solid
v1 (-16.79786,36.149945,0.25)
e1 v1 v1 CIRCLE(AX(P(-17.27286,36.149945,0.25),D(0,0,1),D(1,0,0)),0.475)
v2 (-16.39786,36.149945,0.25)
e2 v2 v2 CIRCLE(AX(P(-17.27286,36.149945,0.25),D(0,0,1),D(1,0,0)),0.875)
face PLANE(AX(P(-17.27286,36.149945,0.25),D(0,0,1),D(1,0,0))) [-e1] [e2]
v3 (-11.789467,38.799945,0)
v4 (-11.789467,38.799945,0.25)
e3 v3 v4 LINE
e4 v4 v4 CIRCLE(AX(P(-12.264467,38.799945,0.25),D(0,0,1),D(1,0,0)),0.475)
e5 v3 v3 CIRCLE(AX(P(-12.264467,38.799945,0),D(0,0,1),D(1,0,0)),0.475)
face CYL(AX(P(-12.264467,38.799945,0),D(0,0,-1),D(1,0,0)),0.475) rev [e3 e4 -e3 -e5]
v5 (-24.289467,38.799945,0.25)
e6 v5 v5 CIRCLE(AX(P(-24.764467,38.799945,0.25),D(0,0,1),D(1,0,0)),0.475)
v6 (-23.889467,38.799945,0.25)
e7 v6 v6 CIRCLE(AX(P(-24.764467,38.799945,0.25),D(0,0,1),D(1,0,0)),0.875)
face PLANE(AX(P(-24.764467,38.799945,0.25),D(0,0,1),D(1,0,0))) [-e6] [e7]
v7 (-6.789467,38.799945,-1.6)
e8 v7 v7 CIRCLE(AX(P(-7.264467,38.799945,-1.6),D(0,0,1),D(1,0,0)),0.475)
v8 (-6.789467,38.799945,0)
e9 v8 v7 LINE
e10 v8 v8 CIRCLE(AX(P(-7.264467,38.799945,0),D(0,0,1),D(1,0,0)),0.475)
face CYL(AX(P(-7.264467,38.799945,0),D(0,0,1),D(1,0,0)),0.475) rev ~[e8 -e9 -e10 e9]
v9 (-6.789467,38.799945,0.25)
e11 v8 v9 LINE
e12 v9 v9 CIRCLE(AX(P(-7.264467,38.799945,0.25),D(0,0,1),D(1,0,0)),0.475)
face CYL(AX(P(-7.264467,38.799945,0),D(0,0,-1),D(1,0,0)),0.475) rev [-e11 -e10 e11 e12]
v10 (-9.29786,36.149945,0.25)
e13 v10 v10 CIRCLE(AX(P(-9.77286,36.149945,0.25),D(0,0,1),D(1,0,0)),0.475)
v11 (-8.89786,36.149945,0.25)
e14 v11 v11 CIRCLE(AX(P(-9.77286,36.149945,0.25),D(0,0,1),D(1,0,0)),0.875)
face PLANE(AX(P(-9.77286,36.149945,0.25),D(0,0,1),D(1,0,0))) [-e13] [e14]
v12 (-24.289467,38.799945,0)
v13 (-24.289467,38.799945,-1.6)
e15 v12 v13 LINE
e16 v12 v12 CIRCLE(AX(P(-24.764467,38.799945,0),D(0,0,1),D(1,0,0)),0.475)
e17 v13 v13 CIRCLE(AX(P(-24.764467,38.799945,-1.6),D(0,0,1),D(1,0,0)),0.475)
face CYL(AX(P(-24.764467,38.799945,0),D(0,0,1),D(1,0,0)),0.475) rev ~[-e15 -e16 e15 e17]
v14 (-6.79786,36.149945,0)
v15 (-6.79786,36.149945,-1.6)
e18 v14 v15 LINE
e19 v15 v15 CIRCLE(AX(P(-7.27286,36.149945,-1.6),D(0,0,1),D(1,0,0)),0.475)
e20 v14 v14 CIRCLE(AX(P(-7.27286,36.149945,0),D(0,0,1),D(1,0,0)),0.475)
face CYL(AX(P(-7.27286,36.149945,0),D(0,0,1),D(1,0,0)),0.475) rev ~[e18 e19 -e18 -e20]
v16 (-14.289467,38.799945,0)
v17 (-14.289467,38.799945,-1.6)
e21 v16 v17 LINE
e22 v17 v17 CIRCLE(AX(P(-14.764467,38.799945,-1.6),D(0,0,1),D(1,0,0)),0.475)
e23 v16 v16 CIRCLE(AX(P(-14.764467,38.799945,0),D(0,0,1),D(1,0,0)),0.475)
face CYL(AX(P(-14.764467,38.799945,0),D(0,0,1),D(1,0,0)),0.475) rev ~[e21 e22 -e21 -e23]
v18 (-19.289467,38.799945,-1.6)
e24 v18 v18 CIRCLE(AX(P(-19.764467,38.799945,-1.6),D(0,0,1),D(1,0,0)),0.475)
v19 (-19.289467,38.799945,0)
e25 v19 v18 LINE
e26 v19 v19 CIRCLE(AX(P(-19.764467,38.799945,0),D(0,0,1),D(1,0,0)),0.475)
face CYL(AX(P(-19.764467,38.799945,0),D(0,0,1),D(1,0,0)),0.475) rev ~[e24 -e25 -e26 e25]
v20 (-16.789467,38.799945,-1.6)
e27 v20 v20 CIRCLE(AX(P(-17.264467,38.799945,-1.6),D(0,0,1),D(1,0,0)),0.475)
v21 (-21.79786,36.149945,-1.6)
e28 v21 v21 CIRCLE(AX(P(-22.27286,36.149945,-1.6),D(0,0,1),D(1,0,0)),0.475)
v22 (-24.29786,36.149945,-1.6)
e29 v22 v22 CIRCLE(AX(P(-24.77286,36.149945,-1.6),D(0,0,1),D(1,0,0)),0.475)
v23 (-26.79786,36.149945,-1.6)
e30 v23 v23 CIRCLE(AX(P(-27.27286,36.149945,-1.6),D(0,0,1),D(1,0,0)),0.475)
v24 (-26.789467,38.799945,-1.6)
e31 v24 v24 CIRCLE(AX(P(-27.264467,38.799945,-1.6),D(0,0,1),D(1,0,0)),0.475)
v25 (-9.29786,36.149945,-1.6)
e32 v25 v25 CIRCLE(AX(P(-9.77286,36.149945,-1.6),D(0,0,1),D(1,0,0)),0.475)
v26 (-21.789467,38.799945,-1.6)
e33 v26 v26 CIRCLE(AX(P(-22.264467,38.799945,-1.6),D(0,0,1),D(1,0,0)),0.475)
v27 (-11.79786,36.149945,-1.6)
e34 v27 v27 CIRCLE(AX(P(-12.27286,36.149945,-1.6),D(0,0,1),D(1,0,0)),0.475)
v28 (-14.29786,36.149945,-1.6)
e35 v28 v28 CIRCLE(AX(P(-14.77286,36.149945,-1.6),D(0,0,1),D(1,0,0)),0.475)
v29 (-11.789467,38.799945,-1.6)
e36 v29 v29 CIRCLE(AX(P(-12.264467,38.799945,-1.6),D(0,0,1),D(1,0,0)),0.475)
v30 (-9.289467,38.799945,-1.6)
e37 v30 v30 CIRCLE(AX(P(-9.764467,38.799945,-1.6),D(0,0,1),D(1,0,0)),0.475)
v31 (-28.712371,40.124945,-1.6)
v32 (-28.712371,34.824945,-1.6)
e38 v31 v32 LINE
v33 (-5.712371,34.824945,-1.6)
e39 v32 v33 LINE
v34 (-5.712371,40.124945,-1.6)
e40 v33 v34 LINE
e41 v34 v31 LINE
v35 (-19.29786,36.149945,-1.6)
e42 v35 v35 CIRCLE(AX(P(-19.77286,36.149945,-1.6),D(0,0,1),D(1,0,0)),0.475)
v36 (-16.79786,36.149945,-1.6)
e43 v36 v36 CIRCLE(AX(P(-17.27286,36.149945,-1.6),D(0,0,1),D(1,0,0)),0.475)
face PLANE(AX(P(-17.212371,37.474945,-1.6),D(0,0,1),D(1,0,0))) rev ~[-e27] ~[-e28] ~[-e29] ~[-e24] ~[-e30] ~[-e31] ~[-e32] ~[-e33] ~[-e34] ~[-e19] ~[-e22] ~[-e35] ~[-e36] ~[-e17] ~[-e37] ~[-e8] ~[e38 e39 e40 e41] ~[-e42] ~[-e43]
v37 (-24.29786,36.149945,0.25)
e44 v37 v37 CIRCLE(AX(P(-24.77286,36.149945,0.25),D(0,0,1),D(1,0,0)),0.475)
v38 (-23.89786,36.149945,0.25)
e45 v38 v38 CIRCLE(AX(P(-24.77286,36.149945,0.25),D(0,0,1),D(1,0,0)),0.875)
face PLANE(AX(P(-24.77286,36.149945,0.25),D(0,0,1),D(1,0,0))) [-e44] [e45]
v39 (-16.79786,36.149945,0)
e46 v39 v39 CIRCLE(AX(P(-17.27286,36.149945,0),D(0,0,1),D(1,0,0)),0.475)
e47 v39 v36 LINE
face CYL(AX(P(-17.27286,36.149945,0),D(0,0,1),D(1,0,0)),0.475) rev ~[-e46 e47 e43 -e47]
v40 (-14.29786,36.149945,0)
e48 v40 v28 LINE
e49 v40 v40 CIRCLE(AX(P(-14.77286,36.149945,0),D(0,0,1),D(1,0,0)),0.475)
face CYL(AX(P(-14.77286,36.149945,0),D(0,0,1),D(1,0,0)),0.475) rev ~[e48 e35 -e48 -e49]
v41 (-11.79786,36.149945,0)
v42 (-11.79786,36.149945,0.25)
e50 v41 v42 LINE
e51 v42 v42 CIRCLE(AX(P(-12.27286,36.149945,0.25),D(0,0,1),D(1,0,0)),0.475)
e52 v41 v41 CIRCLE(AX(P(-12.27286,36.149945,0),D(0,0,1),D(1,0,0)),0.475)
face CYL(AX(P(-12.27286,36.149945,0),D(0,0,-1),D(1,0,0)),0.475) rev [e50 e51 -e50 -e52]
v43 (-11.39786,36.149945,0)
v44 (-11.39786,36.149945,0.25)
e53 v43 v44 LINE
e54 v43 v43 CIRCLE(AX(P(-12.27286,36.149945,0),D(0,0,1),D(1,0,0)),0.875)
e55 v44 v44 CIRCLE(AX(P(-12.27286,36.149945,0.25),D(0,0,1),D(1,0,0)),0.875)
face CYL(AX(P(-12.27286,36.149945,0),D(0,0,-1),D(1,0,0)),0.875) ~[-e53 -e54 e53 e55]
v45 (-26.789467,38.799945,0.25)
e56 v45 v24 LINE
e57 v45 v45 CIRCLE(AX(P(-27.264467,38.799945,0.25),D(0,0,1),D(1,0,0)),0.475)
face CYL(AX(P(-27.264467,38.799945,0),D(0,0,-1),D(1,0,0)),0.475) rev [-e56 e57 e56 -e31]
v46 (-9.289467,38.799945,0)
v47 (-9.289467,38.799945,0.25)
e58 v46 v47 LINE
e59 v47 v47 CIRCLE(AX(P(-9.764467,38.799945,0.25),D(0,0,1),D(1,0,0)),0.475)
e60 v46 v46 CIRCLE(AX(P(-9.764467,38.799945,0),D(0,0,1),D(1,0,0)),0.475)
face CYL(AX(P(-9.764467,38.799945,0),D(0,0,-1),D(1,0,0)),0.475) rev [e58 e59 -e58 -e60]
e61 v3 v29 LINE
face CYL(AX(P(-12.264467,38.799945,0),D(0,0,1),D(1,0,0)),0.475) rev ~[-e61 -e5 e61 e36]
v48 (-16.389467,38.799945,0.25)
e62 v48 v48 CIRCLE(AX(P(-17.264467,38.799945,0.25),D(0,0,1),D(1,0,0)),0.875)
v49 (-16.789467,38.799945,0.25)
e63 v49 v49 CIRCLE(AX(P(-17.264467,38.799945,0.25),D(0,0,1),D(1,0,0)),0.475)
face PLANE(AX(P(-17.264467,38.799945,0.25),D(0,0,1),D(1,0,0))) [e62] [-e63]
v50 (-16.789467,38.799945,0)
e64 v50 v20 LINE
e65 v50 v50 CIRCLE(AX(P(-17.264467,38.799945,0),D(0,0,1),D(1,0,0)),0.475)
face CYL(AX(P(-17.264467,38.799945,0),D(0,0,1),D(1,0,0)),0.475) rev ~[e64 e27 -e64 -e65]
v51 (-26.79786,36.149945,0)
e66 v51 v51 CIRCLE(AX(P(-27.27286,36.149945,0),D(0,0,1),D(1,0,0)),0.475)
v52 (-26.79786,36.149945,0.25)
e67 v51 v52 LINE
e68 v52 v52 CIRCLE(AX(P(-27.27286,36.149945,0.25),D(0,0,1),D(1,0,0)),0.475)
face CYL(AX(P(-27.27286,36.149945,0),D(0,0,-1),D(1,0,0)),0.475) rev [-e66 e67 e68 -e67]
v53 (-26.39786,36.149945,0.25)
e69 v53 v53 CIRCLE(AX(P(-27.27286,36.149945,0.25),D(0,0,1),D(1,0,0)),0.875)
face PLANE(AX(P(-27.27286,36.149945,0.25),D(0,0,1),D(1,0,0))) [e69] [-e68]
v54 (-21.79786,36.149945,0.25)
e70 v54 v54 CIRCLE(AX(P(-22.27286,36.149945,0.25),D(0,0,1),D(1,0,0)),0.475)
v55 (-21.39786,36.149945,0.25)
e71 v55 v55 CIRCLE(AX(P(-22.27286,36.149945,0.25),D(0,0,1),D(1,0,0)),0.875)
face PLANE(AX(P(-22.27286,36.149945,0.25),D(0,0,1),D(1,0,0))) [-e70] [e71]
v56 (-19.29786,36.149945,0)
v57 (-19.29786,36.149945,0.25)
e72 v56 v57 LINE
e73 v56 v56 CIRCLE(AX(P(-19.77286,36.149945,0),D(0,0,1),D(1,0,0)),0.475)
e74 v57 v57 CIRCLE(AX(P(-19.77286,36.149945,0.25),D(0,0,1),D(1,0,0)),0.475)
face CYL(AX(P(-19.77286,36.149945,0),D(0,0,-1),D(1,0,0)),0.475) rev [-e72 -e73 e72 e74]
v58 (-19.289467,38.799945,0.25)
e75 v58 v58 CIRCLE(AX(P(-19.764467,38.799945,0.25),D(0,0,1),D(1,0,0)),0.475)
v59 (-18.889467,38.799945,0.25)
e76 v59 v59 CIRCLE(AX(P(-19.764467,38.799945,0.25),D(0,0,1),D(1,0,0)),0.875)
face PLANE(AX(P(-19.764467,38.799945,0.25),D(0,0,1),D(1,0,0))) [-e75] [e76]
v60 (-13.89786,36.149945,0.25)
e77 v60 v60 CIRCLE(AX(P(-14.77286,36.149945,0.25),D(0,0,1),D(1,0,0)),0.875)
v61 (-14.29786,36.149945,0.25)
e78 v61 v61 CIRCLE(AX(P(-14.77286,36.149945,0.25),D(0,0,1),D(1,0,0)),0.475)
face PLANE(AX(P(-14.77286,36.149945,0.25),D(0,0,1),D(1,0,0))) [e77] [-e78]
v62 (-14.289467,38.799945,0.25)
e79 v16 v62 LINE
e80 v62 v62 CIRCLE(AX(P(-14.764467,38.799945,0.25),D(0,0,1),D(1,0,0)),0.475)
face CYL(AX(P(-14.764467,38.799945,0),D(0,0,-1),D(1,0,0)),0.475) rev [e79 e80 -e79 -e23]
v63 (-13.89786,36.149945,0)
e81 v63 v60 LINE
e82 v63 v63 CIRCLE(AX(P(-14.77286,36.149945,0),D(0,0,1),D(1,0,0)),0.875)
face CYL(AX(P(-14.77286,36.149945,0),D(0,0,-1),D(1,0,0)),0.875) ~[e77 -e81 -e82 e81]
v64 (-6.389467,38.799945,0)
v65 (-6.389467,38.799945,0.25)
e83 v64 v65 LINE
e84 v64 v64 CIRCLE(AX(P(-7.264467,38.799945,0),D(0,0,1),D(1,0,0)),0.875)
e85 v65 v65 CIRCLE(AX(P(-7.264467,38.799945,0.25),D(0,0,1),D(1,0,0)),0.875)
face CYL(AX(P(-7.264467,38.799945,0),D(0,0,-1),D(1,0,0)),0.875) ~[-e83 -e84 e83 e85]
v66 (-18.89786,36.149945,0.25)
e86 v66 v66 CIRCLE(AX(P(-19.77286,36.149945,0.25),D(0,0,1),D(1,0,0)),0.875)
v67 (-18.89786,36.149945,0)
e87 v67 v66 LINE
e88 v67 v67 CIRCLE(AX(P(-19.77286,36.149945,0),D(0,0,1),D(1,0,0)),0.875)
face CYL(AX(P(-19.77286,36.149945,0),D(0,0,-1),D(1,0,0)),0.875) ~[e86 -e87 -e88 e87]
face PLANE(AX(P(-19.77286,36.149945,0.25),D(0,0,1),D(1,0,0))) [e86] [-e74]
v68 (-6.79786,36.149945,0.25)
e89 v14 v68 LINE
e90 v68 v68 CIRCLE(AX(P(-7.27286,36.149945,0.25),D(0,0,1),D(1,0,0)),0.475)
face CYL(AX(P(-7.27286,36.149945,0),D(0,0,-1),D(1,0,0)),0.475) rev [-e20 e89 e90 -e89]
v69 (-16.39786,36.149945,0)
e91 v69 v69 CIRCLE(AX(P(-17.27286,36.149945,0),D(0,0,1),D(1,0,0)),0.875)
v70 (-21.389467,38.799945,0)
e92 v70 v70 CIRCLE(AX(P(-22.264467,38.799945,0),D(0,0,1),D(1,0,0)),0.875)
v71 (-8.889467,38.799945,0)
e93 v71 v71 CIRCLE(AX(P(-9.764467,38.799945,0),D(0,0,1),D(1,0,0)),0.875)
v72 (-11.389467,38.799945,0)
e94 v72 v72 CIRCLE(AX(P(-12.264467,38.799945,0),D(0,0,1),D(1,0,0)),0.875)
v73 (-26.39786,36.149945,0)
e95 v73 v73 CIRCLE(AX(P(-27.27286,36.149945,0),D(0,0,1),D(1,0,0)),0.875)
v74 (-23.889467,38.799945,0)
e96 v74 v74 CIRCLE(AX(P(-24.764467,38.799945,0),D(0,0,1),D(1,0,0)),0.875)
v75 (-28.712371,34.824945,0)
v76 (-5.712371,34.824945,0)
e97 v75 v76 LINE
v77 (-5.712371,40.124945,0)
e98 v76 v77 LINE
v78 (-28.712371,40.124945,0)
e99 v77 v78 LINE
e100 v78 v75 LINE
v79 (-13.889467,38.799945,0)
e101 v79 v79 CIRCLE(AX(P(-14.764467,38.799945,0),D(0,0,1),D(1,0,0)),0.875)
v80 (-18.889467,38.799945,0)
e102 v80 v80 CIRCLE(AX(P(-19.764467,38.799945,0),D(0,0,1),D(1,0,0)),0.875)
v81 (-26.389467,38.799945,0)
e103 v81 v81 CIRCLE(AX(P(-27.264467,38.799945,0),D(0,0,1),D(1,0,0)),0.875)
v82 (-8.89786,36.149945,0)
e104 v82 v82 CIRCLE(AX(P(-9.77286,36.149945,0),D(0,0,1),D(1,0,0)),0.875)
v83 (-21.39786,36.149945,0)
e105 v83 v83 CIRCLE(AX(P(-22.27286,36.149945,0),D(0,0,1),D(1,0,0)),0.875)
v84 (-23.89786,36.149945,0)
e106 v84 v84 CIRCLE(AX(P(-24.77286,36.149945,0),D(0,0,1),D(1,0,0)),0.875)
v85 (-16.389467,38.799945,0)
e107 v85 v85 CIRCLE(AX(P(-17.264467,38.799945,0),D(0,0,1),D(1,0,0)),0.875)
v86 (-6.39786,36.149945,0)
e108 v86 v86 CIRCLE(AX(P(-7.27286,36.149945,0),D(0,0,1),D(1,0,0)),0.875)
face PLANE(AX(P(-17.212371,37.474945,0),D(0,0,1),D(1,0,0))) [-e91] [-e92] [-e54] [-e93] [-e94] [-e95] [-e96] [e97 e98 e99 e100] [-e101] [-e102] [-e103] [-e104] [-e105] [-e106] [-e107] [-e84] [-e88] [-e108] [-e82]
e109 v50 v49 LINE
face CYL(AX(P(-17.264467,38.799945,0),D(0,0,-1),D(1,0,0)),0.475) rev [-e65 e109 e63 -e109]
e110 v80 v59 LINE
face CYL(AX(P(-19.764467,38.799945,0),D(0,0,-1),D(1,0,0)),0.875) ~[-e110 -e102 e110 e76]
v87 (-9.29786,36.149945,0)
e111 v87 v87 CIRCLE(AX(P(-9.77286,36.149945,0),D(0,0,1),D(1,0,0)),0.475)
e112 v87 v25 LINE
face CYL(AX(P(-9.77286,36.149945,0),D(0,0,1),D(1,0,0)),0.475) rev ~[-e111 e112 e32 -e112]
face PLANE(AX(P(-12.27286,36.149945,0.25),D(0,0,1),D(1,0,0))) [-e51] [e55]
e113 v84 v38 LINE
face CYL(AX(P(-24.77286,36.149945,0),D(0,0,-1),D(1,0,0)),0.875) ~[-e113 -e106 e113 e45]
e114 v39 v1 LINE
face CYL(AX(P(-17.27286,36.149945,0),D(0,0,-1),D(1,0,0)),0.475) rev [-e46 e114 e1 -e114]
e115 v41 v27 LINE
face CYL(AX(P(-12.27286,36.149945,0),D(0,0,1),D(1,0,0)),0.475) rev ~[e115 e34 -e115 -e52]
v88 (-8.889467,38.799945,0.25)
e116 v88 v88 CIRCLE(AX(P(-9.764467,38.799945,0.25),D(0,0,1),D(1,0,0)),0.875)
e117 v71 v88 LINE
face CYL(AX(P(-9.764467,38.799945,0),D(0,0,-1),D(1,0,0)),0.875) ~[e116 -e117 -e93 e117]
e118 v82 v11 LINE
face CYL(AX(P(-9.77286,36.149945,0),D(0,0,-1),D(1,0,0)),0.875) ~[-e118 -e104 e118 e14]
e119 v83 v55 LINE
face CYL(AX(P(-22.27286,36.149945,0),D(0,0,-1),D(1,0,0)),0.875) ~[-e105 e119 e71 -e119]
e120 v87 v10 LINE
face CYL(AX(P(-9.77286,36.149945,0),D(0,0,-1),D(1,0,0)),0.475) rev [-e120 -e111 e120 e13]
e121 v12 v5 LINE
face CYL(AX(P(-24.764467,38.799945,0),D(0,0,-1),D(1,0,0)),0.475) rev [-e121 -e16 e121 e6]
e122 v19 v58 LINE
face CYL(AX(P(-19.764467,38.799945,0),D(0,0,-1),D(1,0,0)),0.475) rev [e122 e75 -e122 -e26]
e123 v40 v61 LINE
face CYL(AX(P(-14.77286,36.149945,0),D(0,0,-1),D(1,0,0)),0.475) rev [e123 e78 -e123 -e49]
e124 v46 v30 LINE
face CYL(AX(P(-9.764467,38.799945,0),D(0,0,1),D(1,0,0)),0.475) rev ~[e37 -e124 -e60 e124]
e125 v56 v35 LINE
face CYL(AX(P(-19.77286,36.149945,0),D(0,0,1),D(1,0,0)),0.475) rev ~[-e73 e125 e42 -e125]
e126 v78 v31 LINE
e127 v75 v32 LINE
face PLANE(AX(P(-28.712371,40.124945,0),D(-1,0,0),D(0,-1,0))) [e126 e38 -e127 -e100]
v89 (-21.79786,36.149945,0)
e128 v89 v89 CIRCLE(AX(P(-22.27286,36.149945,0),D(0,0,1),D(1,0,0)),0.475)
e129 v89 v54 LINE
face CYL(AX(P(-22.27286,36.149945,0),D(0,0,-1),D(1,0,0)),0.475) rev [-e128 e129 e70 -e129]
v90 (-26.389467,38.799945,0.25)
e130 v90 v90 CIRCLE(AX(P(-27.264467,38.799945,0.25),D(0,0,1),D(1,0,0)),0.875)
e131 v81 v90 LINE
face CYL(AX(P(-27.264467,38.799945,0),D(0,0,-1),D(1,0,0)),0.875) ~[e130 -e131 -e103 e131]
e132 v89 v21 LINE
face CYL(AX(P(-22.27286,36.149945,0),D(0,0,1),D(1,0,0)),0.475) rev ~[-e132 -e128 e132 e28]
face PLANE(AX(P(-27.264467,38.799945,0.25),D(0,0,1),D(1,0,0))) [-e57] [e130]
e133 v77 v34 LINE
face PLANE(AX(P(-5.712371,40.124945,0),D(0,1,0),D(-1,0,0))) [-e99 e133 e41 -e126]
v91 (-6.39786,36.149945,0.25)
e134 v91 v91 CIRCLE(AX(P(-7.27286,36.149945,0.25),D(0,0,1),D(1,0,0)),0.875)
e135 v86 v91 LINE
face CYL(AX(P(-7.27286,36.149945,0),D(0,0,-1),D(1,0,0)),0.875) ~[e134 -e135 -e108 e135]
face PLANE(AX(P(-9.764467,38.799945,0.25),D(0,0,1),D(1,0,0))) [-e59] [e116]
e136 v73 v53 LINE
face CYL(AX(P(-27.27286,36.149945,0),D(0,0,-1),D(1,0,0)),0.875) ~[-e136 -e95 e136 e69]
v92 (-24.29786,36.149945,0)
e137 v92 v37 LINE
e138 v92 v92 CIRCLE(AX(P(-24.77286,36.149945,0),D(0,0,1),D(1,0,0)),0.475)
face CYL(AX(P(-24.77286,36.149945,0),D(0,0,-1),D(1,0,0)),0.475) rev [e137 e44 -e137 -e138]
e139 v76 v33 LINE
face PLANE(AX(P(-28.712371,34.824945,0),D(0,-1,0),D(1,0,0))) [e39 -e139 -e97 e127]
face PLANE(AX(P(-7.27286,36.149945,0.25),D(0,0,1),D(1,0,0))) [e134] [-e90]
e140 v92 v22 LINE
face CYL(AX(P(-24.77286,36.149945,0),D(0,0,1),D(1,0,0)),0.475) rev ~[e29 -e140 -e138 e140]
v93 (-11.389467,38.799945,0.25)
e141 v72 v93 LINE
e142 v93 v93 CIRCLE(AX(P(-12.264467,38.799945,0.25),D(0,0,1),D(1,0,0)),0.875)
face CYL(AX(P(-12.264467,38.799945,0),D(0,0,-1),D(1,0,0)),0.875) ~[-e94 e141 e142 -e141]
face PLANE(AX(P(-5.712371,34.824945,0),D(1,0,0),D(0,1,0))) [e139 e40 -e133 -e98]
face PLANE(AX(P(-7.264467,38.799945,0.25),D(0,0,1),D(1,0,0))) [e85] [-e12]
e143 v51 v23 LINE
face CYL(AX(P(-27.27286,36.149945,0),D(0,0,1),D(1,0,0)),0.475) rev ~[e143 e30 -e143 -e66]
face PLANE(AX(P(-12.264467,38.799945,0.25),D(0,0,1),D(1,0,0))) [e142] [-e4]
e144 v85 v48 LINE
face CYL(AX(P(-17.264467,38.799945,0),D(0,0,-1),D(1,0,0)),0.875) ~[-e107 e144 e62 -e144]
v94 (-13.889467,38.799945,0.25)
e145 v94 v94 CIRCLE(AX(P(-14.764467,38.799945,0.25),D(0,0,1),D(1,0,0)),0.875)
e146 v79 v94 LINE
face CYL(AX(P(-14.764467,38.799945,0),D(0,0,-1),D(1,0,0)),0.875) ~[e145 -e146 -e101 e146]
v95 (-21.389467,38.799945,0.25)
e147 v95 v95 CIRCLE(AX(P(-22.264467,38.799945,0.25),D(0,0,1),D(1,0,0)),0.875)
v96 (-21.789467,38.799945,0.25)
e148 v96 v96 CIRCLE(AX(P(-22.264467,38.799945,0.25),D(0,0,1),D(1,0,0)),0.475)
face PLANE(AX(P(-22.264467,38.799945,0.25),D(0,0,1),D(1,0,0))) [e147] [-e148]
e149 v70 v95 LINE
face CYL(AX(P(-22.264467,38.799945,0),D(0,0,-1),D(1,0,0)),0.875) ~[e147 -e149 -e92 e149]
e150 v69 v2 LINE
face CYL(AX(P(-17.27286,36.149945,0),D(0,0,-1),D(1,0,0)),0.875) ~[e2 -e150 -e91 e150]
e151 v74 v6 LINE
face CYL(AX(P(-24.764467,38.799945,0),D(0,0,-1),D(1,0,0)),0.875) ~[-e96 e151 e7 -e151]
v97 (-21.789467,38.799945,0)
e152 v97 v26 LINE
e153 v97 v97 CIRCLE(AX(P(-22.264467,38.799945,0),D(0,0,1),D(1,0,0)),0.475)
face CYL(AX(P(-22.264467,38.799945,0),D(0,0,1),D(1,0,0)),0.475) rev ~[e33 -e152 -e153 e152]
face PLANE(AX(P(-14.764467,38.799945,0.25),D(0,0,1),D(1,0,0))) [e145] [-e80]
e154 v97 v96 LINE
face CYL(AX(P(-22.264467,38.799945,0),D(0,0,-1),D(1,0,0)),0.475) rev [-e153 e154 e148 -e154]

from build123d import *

# Parameters (mm, degrees)
F0_R     = 0.875
F0_R_2   = 0.475
F1_DEPTH = 1.6
F2_DEPTH = 0.25


with BuildPart() as f1:
    # F0 (on Top) → F1 (new body)
    with BuildSketch(Plane.XY):
        Polygon((-5.712371, 40.124945), (-28.712371, 40.124945), (-28.712371, 37.474945), (-28.712371, 34.824945), (-5.712371, 34.824945), (-5.712371, 37.474945), align=None)
        with Locations((-27.27286, 36.149945)):
            Circle(F0_R, mode=Mode.SUBTRACT)
        with Locations((-24.77286, 36.149945)):
            Circle(F0_R, mode=Mode.SUBTRACT)
        with Locations((-22.27286, 36.149945)):
            Circle(F0_R, mode=Mode.SUBTRACT)
        with Locations((-19.77286, 36.149945)):
            Circle(F0_R, mode=Mode.SUBTRACT)
        with Locations((-17.27286, 36.149945)):
            Circle(F0_R, mode=Mode.SUBTRACT)
        with Locations((-14.77286, 36.149945)):
            Circle(F0_R, mode=Mode.SUBTRACT)
        with Locations((-12.27286, 36.149945)):
            Circle(F0_R, mode=Mode.SUBTRACT)
        with Locations((-9.77286, 36.149945)):
            Circle(F0_R, mode=Mode.SUBTRACT)
        with Locations((-7.27286, 36.149945)):
            Circle(F0_R, mode=Mode.SUBTRACT)
        with Locations((-27.264467, 38.799945)):
            Circle(F0_R, mode=Mode.SUBTRACT)
        with Locations((-24.764467, 38.799945)):
            Circle(F0_R, mode=Mode.SUBTRACT)
        with Locations((-22.264467, 38.799945)):
            Circle(F0_R, mode=Mode.SUBTRACT)
        with Locations((-19.764467, 38.799945)):
            Circle(F0_R, mode=Mode.SUBTRACT)
        with Locations((-17.264467, 38.799945)):
            Circle(F0_R, mode=Mode.SUBTRACT)
        with Locations((-14.764467, 38.799945)):
            Circle(F0_R, mode=Mode.SUBTRACT)
        with Locations((-12.264467, 38.799945)):
            Circle(F0_R, mode=Mode.SUBTRACT)
        with Locations((-9.764467, 38.799945)):
            Circle(F0_R, mode=Mode.SUBTRACT)
        with Locations((-7.264467, 38.799945)):
            Circle(F0_R, mode=Mode.SUBTRACT)
        with Locations((-27.264467, 38.799945)):
            Circle(F0_R)
        with Locations((-27.264467, 38.799945)):
            Circle(F0_R_2, mode=Mode.SUBTRACT)
        with Locations((-24.764467, 38.799945)):
            Circle(F0_R)
        with Locations((-24.764467, 38.799945)):
            Circle(F0_R_2, mode=Mode.SUBTRACT)
        with Locations((-22.264467, 38.799945)):
            Circle(F0_R)
        with Locations((-22.264467, 38.799945)):
            Circle(F0_R_2, mode=Mode.SUBTRACT)
        with Locations((-19.764467, 38.799945)):
            Circle(F0_R)
        with Locations((-19.764467, 38.799945)):
            Circle(F0_R_2, mode=Mode.SUBTRACT)
        with Locations((-17.264467, 38.799945)):
            Circle(F0_R)
        with Locations((-17.264467, 38.799945)):
            Circle(F0_R_2, mode=Mode.SUBTRACT)
        with Locations((-14.764467, 38.799945)):
            Circle(F0_R)
        with Locations((-14.764467, 38.799945)):
            Circle(F0_R_2, mode=Mode.SUBTRACT)
        with Locations((-12.264467, 38.799945)):
            Circle(F0_R)
        with Locations((-12.264467, 38.799945)):
            Circle(F0_R_2, mode=Mode.SUBTRACT)
        with Locations((-9.764467, 38.799945)):
            Circle(F0_R)
        with Locations((-9.764467, 38.799945)):
            Circle(F0_R_2, mode=Mode.SUBTRACT)
        with Locations((-7.264467, 38.799945)):
            Circle(F0_R)
        with Locations((-7.264467, 38.799945)):
            Circle(F0_R_2, mode=Mode.SUBTRACT)
        with Locations((-7.27286, 36.149945)):
            Circle(F0_R)
        with Locations((-7.27286, 36.149945)):
            Circle(F0_R_2, mode=Mode.SUBTRACT)
        with Locations((-9.77286, 36.149945)):
            Circle(F0_R)
        with Locations((-9.77286, 36.149945)):
            Circle(F0_R_2, mode=Mode.SUBTRACT)
        with Locations((-12.27286, 36.149945)):
            Circle(F0_R)
        with Locations((-12.27286, 36.149945)):
            Circle(F0_R_2, mode=Mode.SUBTRACT)
        with Locations((-14.77286, 36.149945)):
            Circle(F0_R)
        with Locations((-14.77286, 36.149945)):
            Circle(F0_R_2, mode=Mode.SUBTRACT)
        with Locations((-17.27286, 36.149945)):
            Circle(F0_R)
        with Locations((-17.27286, 36.149945)):
            Circle(F0_R_2, mode=Mode.SUBTRACT)
        with Locations((-19.77286, 36.149945)):
            Circle(F0_R)
        with Locations((-19.77286, 36.149945)):
            Circle(F0_R_2, mode=Mode.SUBTRACT)
        with Locations((-22.27286, 36.149945)):
            Circle(F0_R)
        with Locations((-22.27286, 36.149945)):
            Circle(F0_R_2, mode=Mode.SUBTRACT)
        with Locations((-24.77286, 36.149945)):
            Circle(F0_R)
        with Locations((-24.77286, 36.149945)):
            Circle(F0_R_2, mode=Mode.SUBTRACT)
        with Locations((-27.27286, 36.149945)):
            Circle(F0_R)
        with Locations((-27.27286, 36.149945)):
            Circle(F0_R_2, mode=Mode.SUBTRACT)
    extrude(amount=-F1_DEPTH)

    # F0 (on Top) → F2 (join)
    with BuildSketch(Plane.XY):
        with Locations((-27.264467, 38.799945)):
            Circle(F0_R)
        with Locations((-27.264467, 38.799945)):
            Circle(F0_R_2, mode=Mode.SUBTRACT)
        with Locations((-24.764467, 38.799945)):
            Circle(F0_R)
        with Locations((-24.764467, 38.799945)):
            Circle(F0_R_2, mode=Mode.SUBTRACT)
        with Locations((-22.264467, 38.799945)):
            Circle(F0_R)
        with Locations((-22.264467, 38.799945)):
            Circle(F0_R_2, mode=Mode.SUBTRACT)
        with Locations((-19.764467, 38.799945)):
            Circle(F0_R)
        with Locations((-19.764467, 38.799945)):
            Circle(F0_R_2, mode=Mode.SUBTRACT)
        with Locations((-17.264467, 38.799945)):
            Circle(F0_R)
        with Locations((-17.264467, 38.799945)):
            Circle(F0_R_2, mode=Mode.SUBTRACT)
        with Locations((-14.764467, 38.799945)):
            Circle(F0_R)
        with Locations((-14.764467, 38.799945)):
            Circle(F0_R_2, mode=Mode.SUBTRACT)
        with Locations((-12.264467, 38.799945)):
            Circle(F0_R)
        with Locations((-12.264467, 38.799945)):
            Circle(F0_R_2, mode=Mode.SUBTRACT)
        with Locations((-9.764467, 38.799945)):
            Circle(F0_R)
        with Locations((-9.764467, 38.799945)):
            Circle(F0_R_2, mode=Mode.SUBTRACT)
        with Locations((-27.27286, 36.149945)):
            Circle(F0_R)
        with Locations((-27.27286, 36.149945)):
            Circle(F0_R_2, mode=Mode.SUBTRACT)
        with Locations((-24.77286, 36.149945)):
            Circle(F0_R)
        with Locations((-24.77286, 36.149945)):
            Circle(F0_R_2, mode=Mode.SUBTRACT)
        with Locations((-22.27286, 36.149945)):
            Circle(F0_R)
        with Locations((-22.27286, 36.149945)):
            Circle(F0_R_2, mode=Mode.SUBTRACT)
        with Locations((-19.77286, 36.149945)):
            Circle(F0_R)
        with Locations((-19.77286, 36.149945)):
            Circle(F0_R_2, mode=Mode.SUBTRACT)
        with Locations((-17.27286, 36.149945)):
            Circle(F0_R)
        with Locations((-17.27286, 36.149945)):
            Circle(F0_R_2, mode=Mode.SUBTRACT)
        with Locations((-14.77286, 36.149945)):
            Circle(F0_R)
        with Locations((-14.77286, 36.149945)):
            Circle(F0_R_2, mode=Mode.SUBTRACT)
        with Locations((-12.27286, 36.149945)):
            Circle(F0_R)
        with Locations((-12.27286, 36.149945)):
            Circle(F0_R_2, mode=Mode.SUBTRACT)
        with Locations((-9.77286, 36.149945)):
            Circle(F0_R)
        with Locations((-9.77286, 36.149945)):
            Circle(F0_R_2, mode=Mode.SUBTRACT)
        with Locations((-7.27286, 36.149945)):
            Circle(F0_R)
        with Locations((-7.27286, 36.149945)):
            Circle(F0_R_2, mode=Mode.SUBTRACT)
        with Locations((-7.264467, 38.799945)):
            Circle(F0_R)
        with Locations((-7.264467, 38.799945)):
            Circle(F0_R_2, mode=Mode.SUBTRACT)
    extrude(amount=F2_DEPTH)


solid = f1.part
